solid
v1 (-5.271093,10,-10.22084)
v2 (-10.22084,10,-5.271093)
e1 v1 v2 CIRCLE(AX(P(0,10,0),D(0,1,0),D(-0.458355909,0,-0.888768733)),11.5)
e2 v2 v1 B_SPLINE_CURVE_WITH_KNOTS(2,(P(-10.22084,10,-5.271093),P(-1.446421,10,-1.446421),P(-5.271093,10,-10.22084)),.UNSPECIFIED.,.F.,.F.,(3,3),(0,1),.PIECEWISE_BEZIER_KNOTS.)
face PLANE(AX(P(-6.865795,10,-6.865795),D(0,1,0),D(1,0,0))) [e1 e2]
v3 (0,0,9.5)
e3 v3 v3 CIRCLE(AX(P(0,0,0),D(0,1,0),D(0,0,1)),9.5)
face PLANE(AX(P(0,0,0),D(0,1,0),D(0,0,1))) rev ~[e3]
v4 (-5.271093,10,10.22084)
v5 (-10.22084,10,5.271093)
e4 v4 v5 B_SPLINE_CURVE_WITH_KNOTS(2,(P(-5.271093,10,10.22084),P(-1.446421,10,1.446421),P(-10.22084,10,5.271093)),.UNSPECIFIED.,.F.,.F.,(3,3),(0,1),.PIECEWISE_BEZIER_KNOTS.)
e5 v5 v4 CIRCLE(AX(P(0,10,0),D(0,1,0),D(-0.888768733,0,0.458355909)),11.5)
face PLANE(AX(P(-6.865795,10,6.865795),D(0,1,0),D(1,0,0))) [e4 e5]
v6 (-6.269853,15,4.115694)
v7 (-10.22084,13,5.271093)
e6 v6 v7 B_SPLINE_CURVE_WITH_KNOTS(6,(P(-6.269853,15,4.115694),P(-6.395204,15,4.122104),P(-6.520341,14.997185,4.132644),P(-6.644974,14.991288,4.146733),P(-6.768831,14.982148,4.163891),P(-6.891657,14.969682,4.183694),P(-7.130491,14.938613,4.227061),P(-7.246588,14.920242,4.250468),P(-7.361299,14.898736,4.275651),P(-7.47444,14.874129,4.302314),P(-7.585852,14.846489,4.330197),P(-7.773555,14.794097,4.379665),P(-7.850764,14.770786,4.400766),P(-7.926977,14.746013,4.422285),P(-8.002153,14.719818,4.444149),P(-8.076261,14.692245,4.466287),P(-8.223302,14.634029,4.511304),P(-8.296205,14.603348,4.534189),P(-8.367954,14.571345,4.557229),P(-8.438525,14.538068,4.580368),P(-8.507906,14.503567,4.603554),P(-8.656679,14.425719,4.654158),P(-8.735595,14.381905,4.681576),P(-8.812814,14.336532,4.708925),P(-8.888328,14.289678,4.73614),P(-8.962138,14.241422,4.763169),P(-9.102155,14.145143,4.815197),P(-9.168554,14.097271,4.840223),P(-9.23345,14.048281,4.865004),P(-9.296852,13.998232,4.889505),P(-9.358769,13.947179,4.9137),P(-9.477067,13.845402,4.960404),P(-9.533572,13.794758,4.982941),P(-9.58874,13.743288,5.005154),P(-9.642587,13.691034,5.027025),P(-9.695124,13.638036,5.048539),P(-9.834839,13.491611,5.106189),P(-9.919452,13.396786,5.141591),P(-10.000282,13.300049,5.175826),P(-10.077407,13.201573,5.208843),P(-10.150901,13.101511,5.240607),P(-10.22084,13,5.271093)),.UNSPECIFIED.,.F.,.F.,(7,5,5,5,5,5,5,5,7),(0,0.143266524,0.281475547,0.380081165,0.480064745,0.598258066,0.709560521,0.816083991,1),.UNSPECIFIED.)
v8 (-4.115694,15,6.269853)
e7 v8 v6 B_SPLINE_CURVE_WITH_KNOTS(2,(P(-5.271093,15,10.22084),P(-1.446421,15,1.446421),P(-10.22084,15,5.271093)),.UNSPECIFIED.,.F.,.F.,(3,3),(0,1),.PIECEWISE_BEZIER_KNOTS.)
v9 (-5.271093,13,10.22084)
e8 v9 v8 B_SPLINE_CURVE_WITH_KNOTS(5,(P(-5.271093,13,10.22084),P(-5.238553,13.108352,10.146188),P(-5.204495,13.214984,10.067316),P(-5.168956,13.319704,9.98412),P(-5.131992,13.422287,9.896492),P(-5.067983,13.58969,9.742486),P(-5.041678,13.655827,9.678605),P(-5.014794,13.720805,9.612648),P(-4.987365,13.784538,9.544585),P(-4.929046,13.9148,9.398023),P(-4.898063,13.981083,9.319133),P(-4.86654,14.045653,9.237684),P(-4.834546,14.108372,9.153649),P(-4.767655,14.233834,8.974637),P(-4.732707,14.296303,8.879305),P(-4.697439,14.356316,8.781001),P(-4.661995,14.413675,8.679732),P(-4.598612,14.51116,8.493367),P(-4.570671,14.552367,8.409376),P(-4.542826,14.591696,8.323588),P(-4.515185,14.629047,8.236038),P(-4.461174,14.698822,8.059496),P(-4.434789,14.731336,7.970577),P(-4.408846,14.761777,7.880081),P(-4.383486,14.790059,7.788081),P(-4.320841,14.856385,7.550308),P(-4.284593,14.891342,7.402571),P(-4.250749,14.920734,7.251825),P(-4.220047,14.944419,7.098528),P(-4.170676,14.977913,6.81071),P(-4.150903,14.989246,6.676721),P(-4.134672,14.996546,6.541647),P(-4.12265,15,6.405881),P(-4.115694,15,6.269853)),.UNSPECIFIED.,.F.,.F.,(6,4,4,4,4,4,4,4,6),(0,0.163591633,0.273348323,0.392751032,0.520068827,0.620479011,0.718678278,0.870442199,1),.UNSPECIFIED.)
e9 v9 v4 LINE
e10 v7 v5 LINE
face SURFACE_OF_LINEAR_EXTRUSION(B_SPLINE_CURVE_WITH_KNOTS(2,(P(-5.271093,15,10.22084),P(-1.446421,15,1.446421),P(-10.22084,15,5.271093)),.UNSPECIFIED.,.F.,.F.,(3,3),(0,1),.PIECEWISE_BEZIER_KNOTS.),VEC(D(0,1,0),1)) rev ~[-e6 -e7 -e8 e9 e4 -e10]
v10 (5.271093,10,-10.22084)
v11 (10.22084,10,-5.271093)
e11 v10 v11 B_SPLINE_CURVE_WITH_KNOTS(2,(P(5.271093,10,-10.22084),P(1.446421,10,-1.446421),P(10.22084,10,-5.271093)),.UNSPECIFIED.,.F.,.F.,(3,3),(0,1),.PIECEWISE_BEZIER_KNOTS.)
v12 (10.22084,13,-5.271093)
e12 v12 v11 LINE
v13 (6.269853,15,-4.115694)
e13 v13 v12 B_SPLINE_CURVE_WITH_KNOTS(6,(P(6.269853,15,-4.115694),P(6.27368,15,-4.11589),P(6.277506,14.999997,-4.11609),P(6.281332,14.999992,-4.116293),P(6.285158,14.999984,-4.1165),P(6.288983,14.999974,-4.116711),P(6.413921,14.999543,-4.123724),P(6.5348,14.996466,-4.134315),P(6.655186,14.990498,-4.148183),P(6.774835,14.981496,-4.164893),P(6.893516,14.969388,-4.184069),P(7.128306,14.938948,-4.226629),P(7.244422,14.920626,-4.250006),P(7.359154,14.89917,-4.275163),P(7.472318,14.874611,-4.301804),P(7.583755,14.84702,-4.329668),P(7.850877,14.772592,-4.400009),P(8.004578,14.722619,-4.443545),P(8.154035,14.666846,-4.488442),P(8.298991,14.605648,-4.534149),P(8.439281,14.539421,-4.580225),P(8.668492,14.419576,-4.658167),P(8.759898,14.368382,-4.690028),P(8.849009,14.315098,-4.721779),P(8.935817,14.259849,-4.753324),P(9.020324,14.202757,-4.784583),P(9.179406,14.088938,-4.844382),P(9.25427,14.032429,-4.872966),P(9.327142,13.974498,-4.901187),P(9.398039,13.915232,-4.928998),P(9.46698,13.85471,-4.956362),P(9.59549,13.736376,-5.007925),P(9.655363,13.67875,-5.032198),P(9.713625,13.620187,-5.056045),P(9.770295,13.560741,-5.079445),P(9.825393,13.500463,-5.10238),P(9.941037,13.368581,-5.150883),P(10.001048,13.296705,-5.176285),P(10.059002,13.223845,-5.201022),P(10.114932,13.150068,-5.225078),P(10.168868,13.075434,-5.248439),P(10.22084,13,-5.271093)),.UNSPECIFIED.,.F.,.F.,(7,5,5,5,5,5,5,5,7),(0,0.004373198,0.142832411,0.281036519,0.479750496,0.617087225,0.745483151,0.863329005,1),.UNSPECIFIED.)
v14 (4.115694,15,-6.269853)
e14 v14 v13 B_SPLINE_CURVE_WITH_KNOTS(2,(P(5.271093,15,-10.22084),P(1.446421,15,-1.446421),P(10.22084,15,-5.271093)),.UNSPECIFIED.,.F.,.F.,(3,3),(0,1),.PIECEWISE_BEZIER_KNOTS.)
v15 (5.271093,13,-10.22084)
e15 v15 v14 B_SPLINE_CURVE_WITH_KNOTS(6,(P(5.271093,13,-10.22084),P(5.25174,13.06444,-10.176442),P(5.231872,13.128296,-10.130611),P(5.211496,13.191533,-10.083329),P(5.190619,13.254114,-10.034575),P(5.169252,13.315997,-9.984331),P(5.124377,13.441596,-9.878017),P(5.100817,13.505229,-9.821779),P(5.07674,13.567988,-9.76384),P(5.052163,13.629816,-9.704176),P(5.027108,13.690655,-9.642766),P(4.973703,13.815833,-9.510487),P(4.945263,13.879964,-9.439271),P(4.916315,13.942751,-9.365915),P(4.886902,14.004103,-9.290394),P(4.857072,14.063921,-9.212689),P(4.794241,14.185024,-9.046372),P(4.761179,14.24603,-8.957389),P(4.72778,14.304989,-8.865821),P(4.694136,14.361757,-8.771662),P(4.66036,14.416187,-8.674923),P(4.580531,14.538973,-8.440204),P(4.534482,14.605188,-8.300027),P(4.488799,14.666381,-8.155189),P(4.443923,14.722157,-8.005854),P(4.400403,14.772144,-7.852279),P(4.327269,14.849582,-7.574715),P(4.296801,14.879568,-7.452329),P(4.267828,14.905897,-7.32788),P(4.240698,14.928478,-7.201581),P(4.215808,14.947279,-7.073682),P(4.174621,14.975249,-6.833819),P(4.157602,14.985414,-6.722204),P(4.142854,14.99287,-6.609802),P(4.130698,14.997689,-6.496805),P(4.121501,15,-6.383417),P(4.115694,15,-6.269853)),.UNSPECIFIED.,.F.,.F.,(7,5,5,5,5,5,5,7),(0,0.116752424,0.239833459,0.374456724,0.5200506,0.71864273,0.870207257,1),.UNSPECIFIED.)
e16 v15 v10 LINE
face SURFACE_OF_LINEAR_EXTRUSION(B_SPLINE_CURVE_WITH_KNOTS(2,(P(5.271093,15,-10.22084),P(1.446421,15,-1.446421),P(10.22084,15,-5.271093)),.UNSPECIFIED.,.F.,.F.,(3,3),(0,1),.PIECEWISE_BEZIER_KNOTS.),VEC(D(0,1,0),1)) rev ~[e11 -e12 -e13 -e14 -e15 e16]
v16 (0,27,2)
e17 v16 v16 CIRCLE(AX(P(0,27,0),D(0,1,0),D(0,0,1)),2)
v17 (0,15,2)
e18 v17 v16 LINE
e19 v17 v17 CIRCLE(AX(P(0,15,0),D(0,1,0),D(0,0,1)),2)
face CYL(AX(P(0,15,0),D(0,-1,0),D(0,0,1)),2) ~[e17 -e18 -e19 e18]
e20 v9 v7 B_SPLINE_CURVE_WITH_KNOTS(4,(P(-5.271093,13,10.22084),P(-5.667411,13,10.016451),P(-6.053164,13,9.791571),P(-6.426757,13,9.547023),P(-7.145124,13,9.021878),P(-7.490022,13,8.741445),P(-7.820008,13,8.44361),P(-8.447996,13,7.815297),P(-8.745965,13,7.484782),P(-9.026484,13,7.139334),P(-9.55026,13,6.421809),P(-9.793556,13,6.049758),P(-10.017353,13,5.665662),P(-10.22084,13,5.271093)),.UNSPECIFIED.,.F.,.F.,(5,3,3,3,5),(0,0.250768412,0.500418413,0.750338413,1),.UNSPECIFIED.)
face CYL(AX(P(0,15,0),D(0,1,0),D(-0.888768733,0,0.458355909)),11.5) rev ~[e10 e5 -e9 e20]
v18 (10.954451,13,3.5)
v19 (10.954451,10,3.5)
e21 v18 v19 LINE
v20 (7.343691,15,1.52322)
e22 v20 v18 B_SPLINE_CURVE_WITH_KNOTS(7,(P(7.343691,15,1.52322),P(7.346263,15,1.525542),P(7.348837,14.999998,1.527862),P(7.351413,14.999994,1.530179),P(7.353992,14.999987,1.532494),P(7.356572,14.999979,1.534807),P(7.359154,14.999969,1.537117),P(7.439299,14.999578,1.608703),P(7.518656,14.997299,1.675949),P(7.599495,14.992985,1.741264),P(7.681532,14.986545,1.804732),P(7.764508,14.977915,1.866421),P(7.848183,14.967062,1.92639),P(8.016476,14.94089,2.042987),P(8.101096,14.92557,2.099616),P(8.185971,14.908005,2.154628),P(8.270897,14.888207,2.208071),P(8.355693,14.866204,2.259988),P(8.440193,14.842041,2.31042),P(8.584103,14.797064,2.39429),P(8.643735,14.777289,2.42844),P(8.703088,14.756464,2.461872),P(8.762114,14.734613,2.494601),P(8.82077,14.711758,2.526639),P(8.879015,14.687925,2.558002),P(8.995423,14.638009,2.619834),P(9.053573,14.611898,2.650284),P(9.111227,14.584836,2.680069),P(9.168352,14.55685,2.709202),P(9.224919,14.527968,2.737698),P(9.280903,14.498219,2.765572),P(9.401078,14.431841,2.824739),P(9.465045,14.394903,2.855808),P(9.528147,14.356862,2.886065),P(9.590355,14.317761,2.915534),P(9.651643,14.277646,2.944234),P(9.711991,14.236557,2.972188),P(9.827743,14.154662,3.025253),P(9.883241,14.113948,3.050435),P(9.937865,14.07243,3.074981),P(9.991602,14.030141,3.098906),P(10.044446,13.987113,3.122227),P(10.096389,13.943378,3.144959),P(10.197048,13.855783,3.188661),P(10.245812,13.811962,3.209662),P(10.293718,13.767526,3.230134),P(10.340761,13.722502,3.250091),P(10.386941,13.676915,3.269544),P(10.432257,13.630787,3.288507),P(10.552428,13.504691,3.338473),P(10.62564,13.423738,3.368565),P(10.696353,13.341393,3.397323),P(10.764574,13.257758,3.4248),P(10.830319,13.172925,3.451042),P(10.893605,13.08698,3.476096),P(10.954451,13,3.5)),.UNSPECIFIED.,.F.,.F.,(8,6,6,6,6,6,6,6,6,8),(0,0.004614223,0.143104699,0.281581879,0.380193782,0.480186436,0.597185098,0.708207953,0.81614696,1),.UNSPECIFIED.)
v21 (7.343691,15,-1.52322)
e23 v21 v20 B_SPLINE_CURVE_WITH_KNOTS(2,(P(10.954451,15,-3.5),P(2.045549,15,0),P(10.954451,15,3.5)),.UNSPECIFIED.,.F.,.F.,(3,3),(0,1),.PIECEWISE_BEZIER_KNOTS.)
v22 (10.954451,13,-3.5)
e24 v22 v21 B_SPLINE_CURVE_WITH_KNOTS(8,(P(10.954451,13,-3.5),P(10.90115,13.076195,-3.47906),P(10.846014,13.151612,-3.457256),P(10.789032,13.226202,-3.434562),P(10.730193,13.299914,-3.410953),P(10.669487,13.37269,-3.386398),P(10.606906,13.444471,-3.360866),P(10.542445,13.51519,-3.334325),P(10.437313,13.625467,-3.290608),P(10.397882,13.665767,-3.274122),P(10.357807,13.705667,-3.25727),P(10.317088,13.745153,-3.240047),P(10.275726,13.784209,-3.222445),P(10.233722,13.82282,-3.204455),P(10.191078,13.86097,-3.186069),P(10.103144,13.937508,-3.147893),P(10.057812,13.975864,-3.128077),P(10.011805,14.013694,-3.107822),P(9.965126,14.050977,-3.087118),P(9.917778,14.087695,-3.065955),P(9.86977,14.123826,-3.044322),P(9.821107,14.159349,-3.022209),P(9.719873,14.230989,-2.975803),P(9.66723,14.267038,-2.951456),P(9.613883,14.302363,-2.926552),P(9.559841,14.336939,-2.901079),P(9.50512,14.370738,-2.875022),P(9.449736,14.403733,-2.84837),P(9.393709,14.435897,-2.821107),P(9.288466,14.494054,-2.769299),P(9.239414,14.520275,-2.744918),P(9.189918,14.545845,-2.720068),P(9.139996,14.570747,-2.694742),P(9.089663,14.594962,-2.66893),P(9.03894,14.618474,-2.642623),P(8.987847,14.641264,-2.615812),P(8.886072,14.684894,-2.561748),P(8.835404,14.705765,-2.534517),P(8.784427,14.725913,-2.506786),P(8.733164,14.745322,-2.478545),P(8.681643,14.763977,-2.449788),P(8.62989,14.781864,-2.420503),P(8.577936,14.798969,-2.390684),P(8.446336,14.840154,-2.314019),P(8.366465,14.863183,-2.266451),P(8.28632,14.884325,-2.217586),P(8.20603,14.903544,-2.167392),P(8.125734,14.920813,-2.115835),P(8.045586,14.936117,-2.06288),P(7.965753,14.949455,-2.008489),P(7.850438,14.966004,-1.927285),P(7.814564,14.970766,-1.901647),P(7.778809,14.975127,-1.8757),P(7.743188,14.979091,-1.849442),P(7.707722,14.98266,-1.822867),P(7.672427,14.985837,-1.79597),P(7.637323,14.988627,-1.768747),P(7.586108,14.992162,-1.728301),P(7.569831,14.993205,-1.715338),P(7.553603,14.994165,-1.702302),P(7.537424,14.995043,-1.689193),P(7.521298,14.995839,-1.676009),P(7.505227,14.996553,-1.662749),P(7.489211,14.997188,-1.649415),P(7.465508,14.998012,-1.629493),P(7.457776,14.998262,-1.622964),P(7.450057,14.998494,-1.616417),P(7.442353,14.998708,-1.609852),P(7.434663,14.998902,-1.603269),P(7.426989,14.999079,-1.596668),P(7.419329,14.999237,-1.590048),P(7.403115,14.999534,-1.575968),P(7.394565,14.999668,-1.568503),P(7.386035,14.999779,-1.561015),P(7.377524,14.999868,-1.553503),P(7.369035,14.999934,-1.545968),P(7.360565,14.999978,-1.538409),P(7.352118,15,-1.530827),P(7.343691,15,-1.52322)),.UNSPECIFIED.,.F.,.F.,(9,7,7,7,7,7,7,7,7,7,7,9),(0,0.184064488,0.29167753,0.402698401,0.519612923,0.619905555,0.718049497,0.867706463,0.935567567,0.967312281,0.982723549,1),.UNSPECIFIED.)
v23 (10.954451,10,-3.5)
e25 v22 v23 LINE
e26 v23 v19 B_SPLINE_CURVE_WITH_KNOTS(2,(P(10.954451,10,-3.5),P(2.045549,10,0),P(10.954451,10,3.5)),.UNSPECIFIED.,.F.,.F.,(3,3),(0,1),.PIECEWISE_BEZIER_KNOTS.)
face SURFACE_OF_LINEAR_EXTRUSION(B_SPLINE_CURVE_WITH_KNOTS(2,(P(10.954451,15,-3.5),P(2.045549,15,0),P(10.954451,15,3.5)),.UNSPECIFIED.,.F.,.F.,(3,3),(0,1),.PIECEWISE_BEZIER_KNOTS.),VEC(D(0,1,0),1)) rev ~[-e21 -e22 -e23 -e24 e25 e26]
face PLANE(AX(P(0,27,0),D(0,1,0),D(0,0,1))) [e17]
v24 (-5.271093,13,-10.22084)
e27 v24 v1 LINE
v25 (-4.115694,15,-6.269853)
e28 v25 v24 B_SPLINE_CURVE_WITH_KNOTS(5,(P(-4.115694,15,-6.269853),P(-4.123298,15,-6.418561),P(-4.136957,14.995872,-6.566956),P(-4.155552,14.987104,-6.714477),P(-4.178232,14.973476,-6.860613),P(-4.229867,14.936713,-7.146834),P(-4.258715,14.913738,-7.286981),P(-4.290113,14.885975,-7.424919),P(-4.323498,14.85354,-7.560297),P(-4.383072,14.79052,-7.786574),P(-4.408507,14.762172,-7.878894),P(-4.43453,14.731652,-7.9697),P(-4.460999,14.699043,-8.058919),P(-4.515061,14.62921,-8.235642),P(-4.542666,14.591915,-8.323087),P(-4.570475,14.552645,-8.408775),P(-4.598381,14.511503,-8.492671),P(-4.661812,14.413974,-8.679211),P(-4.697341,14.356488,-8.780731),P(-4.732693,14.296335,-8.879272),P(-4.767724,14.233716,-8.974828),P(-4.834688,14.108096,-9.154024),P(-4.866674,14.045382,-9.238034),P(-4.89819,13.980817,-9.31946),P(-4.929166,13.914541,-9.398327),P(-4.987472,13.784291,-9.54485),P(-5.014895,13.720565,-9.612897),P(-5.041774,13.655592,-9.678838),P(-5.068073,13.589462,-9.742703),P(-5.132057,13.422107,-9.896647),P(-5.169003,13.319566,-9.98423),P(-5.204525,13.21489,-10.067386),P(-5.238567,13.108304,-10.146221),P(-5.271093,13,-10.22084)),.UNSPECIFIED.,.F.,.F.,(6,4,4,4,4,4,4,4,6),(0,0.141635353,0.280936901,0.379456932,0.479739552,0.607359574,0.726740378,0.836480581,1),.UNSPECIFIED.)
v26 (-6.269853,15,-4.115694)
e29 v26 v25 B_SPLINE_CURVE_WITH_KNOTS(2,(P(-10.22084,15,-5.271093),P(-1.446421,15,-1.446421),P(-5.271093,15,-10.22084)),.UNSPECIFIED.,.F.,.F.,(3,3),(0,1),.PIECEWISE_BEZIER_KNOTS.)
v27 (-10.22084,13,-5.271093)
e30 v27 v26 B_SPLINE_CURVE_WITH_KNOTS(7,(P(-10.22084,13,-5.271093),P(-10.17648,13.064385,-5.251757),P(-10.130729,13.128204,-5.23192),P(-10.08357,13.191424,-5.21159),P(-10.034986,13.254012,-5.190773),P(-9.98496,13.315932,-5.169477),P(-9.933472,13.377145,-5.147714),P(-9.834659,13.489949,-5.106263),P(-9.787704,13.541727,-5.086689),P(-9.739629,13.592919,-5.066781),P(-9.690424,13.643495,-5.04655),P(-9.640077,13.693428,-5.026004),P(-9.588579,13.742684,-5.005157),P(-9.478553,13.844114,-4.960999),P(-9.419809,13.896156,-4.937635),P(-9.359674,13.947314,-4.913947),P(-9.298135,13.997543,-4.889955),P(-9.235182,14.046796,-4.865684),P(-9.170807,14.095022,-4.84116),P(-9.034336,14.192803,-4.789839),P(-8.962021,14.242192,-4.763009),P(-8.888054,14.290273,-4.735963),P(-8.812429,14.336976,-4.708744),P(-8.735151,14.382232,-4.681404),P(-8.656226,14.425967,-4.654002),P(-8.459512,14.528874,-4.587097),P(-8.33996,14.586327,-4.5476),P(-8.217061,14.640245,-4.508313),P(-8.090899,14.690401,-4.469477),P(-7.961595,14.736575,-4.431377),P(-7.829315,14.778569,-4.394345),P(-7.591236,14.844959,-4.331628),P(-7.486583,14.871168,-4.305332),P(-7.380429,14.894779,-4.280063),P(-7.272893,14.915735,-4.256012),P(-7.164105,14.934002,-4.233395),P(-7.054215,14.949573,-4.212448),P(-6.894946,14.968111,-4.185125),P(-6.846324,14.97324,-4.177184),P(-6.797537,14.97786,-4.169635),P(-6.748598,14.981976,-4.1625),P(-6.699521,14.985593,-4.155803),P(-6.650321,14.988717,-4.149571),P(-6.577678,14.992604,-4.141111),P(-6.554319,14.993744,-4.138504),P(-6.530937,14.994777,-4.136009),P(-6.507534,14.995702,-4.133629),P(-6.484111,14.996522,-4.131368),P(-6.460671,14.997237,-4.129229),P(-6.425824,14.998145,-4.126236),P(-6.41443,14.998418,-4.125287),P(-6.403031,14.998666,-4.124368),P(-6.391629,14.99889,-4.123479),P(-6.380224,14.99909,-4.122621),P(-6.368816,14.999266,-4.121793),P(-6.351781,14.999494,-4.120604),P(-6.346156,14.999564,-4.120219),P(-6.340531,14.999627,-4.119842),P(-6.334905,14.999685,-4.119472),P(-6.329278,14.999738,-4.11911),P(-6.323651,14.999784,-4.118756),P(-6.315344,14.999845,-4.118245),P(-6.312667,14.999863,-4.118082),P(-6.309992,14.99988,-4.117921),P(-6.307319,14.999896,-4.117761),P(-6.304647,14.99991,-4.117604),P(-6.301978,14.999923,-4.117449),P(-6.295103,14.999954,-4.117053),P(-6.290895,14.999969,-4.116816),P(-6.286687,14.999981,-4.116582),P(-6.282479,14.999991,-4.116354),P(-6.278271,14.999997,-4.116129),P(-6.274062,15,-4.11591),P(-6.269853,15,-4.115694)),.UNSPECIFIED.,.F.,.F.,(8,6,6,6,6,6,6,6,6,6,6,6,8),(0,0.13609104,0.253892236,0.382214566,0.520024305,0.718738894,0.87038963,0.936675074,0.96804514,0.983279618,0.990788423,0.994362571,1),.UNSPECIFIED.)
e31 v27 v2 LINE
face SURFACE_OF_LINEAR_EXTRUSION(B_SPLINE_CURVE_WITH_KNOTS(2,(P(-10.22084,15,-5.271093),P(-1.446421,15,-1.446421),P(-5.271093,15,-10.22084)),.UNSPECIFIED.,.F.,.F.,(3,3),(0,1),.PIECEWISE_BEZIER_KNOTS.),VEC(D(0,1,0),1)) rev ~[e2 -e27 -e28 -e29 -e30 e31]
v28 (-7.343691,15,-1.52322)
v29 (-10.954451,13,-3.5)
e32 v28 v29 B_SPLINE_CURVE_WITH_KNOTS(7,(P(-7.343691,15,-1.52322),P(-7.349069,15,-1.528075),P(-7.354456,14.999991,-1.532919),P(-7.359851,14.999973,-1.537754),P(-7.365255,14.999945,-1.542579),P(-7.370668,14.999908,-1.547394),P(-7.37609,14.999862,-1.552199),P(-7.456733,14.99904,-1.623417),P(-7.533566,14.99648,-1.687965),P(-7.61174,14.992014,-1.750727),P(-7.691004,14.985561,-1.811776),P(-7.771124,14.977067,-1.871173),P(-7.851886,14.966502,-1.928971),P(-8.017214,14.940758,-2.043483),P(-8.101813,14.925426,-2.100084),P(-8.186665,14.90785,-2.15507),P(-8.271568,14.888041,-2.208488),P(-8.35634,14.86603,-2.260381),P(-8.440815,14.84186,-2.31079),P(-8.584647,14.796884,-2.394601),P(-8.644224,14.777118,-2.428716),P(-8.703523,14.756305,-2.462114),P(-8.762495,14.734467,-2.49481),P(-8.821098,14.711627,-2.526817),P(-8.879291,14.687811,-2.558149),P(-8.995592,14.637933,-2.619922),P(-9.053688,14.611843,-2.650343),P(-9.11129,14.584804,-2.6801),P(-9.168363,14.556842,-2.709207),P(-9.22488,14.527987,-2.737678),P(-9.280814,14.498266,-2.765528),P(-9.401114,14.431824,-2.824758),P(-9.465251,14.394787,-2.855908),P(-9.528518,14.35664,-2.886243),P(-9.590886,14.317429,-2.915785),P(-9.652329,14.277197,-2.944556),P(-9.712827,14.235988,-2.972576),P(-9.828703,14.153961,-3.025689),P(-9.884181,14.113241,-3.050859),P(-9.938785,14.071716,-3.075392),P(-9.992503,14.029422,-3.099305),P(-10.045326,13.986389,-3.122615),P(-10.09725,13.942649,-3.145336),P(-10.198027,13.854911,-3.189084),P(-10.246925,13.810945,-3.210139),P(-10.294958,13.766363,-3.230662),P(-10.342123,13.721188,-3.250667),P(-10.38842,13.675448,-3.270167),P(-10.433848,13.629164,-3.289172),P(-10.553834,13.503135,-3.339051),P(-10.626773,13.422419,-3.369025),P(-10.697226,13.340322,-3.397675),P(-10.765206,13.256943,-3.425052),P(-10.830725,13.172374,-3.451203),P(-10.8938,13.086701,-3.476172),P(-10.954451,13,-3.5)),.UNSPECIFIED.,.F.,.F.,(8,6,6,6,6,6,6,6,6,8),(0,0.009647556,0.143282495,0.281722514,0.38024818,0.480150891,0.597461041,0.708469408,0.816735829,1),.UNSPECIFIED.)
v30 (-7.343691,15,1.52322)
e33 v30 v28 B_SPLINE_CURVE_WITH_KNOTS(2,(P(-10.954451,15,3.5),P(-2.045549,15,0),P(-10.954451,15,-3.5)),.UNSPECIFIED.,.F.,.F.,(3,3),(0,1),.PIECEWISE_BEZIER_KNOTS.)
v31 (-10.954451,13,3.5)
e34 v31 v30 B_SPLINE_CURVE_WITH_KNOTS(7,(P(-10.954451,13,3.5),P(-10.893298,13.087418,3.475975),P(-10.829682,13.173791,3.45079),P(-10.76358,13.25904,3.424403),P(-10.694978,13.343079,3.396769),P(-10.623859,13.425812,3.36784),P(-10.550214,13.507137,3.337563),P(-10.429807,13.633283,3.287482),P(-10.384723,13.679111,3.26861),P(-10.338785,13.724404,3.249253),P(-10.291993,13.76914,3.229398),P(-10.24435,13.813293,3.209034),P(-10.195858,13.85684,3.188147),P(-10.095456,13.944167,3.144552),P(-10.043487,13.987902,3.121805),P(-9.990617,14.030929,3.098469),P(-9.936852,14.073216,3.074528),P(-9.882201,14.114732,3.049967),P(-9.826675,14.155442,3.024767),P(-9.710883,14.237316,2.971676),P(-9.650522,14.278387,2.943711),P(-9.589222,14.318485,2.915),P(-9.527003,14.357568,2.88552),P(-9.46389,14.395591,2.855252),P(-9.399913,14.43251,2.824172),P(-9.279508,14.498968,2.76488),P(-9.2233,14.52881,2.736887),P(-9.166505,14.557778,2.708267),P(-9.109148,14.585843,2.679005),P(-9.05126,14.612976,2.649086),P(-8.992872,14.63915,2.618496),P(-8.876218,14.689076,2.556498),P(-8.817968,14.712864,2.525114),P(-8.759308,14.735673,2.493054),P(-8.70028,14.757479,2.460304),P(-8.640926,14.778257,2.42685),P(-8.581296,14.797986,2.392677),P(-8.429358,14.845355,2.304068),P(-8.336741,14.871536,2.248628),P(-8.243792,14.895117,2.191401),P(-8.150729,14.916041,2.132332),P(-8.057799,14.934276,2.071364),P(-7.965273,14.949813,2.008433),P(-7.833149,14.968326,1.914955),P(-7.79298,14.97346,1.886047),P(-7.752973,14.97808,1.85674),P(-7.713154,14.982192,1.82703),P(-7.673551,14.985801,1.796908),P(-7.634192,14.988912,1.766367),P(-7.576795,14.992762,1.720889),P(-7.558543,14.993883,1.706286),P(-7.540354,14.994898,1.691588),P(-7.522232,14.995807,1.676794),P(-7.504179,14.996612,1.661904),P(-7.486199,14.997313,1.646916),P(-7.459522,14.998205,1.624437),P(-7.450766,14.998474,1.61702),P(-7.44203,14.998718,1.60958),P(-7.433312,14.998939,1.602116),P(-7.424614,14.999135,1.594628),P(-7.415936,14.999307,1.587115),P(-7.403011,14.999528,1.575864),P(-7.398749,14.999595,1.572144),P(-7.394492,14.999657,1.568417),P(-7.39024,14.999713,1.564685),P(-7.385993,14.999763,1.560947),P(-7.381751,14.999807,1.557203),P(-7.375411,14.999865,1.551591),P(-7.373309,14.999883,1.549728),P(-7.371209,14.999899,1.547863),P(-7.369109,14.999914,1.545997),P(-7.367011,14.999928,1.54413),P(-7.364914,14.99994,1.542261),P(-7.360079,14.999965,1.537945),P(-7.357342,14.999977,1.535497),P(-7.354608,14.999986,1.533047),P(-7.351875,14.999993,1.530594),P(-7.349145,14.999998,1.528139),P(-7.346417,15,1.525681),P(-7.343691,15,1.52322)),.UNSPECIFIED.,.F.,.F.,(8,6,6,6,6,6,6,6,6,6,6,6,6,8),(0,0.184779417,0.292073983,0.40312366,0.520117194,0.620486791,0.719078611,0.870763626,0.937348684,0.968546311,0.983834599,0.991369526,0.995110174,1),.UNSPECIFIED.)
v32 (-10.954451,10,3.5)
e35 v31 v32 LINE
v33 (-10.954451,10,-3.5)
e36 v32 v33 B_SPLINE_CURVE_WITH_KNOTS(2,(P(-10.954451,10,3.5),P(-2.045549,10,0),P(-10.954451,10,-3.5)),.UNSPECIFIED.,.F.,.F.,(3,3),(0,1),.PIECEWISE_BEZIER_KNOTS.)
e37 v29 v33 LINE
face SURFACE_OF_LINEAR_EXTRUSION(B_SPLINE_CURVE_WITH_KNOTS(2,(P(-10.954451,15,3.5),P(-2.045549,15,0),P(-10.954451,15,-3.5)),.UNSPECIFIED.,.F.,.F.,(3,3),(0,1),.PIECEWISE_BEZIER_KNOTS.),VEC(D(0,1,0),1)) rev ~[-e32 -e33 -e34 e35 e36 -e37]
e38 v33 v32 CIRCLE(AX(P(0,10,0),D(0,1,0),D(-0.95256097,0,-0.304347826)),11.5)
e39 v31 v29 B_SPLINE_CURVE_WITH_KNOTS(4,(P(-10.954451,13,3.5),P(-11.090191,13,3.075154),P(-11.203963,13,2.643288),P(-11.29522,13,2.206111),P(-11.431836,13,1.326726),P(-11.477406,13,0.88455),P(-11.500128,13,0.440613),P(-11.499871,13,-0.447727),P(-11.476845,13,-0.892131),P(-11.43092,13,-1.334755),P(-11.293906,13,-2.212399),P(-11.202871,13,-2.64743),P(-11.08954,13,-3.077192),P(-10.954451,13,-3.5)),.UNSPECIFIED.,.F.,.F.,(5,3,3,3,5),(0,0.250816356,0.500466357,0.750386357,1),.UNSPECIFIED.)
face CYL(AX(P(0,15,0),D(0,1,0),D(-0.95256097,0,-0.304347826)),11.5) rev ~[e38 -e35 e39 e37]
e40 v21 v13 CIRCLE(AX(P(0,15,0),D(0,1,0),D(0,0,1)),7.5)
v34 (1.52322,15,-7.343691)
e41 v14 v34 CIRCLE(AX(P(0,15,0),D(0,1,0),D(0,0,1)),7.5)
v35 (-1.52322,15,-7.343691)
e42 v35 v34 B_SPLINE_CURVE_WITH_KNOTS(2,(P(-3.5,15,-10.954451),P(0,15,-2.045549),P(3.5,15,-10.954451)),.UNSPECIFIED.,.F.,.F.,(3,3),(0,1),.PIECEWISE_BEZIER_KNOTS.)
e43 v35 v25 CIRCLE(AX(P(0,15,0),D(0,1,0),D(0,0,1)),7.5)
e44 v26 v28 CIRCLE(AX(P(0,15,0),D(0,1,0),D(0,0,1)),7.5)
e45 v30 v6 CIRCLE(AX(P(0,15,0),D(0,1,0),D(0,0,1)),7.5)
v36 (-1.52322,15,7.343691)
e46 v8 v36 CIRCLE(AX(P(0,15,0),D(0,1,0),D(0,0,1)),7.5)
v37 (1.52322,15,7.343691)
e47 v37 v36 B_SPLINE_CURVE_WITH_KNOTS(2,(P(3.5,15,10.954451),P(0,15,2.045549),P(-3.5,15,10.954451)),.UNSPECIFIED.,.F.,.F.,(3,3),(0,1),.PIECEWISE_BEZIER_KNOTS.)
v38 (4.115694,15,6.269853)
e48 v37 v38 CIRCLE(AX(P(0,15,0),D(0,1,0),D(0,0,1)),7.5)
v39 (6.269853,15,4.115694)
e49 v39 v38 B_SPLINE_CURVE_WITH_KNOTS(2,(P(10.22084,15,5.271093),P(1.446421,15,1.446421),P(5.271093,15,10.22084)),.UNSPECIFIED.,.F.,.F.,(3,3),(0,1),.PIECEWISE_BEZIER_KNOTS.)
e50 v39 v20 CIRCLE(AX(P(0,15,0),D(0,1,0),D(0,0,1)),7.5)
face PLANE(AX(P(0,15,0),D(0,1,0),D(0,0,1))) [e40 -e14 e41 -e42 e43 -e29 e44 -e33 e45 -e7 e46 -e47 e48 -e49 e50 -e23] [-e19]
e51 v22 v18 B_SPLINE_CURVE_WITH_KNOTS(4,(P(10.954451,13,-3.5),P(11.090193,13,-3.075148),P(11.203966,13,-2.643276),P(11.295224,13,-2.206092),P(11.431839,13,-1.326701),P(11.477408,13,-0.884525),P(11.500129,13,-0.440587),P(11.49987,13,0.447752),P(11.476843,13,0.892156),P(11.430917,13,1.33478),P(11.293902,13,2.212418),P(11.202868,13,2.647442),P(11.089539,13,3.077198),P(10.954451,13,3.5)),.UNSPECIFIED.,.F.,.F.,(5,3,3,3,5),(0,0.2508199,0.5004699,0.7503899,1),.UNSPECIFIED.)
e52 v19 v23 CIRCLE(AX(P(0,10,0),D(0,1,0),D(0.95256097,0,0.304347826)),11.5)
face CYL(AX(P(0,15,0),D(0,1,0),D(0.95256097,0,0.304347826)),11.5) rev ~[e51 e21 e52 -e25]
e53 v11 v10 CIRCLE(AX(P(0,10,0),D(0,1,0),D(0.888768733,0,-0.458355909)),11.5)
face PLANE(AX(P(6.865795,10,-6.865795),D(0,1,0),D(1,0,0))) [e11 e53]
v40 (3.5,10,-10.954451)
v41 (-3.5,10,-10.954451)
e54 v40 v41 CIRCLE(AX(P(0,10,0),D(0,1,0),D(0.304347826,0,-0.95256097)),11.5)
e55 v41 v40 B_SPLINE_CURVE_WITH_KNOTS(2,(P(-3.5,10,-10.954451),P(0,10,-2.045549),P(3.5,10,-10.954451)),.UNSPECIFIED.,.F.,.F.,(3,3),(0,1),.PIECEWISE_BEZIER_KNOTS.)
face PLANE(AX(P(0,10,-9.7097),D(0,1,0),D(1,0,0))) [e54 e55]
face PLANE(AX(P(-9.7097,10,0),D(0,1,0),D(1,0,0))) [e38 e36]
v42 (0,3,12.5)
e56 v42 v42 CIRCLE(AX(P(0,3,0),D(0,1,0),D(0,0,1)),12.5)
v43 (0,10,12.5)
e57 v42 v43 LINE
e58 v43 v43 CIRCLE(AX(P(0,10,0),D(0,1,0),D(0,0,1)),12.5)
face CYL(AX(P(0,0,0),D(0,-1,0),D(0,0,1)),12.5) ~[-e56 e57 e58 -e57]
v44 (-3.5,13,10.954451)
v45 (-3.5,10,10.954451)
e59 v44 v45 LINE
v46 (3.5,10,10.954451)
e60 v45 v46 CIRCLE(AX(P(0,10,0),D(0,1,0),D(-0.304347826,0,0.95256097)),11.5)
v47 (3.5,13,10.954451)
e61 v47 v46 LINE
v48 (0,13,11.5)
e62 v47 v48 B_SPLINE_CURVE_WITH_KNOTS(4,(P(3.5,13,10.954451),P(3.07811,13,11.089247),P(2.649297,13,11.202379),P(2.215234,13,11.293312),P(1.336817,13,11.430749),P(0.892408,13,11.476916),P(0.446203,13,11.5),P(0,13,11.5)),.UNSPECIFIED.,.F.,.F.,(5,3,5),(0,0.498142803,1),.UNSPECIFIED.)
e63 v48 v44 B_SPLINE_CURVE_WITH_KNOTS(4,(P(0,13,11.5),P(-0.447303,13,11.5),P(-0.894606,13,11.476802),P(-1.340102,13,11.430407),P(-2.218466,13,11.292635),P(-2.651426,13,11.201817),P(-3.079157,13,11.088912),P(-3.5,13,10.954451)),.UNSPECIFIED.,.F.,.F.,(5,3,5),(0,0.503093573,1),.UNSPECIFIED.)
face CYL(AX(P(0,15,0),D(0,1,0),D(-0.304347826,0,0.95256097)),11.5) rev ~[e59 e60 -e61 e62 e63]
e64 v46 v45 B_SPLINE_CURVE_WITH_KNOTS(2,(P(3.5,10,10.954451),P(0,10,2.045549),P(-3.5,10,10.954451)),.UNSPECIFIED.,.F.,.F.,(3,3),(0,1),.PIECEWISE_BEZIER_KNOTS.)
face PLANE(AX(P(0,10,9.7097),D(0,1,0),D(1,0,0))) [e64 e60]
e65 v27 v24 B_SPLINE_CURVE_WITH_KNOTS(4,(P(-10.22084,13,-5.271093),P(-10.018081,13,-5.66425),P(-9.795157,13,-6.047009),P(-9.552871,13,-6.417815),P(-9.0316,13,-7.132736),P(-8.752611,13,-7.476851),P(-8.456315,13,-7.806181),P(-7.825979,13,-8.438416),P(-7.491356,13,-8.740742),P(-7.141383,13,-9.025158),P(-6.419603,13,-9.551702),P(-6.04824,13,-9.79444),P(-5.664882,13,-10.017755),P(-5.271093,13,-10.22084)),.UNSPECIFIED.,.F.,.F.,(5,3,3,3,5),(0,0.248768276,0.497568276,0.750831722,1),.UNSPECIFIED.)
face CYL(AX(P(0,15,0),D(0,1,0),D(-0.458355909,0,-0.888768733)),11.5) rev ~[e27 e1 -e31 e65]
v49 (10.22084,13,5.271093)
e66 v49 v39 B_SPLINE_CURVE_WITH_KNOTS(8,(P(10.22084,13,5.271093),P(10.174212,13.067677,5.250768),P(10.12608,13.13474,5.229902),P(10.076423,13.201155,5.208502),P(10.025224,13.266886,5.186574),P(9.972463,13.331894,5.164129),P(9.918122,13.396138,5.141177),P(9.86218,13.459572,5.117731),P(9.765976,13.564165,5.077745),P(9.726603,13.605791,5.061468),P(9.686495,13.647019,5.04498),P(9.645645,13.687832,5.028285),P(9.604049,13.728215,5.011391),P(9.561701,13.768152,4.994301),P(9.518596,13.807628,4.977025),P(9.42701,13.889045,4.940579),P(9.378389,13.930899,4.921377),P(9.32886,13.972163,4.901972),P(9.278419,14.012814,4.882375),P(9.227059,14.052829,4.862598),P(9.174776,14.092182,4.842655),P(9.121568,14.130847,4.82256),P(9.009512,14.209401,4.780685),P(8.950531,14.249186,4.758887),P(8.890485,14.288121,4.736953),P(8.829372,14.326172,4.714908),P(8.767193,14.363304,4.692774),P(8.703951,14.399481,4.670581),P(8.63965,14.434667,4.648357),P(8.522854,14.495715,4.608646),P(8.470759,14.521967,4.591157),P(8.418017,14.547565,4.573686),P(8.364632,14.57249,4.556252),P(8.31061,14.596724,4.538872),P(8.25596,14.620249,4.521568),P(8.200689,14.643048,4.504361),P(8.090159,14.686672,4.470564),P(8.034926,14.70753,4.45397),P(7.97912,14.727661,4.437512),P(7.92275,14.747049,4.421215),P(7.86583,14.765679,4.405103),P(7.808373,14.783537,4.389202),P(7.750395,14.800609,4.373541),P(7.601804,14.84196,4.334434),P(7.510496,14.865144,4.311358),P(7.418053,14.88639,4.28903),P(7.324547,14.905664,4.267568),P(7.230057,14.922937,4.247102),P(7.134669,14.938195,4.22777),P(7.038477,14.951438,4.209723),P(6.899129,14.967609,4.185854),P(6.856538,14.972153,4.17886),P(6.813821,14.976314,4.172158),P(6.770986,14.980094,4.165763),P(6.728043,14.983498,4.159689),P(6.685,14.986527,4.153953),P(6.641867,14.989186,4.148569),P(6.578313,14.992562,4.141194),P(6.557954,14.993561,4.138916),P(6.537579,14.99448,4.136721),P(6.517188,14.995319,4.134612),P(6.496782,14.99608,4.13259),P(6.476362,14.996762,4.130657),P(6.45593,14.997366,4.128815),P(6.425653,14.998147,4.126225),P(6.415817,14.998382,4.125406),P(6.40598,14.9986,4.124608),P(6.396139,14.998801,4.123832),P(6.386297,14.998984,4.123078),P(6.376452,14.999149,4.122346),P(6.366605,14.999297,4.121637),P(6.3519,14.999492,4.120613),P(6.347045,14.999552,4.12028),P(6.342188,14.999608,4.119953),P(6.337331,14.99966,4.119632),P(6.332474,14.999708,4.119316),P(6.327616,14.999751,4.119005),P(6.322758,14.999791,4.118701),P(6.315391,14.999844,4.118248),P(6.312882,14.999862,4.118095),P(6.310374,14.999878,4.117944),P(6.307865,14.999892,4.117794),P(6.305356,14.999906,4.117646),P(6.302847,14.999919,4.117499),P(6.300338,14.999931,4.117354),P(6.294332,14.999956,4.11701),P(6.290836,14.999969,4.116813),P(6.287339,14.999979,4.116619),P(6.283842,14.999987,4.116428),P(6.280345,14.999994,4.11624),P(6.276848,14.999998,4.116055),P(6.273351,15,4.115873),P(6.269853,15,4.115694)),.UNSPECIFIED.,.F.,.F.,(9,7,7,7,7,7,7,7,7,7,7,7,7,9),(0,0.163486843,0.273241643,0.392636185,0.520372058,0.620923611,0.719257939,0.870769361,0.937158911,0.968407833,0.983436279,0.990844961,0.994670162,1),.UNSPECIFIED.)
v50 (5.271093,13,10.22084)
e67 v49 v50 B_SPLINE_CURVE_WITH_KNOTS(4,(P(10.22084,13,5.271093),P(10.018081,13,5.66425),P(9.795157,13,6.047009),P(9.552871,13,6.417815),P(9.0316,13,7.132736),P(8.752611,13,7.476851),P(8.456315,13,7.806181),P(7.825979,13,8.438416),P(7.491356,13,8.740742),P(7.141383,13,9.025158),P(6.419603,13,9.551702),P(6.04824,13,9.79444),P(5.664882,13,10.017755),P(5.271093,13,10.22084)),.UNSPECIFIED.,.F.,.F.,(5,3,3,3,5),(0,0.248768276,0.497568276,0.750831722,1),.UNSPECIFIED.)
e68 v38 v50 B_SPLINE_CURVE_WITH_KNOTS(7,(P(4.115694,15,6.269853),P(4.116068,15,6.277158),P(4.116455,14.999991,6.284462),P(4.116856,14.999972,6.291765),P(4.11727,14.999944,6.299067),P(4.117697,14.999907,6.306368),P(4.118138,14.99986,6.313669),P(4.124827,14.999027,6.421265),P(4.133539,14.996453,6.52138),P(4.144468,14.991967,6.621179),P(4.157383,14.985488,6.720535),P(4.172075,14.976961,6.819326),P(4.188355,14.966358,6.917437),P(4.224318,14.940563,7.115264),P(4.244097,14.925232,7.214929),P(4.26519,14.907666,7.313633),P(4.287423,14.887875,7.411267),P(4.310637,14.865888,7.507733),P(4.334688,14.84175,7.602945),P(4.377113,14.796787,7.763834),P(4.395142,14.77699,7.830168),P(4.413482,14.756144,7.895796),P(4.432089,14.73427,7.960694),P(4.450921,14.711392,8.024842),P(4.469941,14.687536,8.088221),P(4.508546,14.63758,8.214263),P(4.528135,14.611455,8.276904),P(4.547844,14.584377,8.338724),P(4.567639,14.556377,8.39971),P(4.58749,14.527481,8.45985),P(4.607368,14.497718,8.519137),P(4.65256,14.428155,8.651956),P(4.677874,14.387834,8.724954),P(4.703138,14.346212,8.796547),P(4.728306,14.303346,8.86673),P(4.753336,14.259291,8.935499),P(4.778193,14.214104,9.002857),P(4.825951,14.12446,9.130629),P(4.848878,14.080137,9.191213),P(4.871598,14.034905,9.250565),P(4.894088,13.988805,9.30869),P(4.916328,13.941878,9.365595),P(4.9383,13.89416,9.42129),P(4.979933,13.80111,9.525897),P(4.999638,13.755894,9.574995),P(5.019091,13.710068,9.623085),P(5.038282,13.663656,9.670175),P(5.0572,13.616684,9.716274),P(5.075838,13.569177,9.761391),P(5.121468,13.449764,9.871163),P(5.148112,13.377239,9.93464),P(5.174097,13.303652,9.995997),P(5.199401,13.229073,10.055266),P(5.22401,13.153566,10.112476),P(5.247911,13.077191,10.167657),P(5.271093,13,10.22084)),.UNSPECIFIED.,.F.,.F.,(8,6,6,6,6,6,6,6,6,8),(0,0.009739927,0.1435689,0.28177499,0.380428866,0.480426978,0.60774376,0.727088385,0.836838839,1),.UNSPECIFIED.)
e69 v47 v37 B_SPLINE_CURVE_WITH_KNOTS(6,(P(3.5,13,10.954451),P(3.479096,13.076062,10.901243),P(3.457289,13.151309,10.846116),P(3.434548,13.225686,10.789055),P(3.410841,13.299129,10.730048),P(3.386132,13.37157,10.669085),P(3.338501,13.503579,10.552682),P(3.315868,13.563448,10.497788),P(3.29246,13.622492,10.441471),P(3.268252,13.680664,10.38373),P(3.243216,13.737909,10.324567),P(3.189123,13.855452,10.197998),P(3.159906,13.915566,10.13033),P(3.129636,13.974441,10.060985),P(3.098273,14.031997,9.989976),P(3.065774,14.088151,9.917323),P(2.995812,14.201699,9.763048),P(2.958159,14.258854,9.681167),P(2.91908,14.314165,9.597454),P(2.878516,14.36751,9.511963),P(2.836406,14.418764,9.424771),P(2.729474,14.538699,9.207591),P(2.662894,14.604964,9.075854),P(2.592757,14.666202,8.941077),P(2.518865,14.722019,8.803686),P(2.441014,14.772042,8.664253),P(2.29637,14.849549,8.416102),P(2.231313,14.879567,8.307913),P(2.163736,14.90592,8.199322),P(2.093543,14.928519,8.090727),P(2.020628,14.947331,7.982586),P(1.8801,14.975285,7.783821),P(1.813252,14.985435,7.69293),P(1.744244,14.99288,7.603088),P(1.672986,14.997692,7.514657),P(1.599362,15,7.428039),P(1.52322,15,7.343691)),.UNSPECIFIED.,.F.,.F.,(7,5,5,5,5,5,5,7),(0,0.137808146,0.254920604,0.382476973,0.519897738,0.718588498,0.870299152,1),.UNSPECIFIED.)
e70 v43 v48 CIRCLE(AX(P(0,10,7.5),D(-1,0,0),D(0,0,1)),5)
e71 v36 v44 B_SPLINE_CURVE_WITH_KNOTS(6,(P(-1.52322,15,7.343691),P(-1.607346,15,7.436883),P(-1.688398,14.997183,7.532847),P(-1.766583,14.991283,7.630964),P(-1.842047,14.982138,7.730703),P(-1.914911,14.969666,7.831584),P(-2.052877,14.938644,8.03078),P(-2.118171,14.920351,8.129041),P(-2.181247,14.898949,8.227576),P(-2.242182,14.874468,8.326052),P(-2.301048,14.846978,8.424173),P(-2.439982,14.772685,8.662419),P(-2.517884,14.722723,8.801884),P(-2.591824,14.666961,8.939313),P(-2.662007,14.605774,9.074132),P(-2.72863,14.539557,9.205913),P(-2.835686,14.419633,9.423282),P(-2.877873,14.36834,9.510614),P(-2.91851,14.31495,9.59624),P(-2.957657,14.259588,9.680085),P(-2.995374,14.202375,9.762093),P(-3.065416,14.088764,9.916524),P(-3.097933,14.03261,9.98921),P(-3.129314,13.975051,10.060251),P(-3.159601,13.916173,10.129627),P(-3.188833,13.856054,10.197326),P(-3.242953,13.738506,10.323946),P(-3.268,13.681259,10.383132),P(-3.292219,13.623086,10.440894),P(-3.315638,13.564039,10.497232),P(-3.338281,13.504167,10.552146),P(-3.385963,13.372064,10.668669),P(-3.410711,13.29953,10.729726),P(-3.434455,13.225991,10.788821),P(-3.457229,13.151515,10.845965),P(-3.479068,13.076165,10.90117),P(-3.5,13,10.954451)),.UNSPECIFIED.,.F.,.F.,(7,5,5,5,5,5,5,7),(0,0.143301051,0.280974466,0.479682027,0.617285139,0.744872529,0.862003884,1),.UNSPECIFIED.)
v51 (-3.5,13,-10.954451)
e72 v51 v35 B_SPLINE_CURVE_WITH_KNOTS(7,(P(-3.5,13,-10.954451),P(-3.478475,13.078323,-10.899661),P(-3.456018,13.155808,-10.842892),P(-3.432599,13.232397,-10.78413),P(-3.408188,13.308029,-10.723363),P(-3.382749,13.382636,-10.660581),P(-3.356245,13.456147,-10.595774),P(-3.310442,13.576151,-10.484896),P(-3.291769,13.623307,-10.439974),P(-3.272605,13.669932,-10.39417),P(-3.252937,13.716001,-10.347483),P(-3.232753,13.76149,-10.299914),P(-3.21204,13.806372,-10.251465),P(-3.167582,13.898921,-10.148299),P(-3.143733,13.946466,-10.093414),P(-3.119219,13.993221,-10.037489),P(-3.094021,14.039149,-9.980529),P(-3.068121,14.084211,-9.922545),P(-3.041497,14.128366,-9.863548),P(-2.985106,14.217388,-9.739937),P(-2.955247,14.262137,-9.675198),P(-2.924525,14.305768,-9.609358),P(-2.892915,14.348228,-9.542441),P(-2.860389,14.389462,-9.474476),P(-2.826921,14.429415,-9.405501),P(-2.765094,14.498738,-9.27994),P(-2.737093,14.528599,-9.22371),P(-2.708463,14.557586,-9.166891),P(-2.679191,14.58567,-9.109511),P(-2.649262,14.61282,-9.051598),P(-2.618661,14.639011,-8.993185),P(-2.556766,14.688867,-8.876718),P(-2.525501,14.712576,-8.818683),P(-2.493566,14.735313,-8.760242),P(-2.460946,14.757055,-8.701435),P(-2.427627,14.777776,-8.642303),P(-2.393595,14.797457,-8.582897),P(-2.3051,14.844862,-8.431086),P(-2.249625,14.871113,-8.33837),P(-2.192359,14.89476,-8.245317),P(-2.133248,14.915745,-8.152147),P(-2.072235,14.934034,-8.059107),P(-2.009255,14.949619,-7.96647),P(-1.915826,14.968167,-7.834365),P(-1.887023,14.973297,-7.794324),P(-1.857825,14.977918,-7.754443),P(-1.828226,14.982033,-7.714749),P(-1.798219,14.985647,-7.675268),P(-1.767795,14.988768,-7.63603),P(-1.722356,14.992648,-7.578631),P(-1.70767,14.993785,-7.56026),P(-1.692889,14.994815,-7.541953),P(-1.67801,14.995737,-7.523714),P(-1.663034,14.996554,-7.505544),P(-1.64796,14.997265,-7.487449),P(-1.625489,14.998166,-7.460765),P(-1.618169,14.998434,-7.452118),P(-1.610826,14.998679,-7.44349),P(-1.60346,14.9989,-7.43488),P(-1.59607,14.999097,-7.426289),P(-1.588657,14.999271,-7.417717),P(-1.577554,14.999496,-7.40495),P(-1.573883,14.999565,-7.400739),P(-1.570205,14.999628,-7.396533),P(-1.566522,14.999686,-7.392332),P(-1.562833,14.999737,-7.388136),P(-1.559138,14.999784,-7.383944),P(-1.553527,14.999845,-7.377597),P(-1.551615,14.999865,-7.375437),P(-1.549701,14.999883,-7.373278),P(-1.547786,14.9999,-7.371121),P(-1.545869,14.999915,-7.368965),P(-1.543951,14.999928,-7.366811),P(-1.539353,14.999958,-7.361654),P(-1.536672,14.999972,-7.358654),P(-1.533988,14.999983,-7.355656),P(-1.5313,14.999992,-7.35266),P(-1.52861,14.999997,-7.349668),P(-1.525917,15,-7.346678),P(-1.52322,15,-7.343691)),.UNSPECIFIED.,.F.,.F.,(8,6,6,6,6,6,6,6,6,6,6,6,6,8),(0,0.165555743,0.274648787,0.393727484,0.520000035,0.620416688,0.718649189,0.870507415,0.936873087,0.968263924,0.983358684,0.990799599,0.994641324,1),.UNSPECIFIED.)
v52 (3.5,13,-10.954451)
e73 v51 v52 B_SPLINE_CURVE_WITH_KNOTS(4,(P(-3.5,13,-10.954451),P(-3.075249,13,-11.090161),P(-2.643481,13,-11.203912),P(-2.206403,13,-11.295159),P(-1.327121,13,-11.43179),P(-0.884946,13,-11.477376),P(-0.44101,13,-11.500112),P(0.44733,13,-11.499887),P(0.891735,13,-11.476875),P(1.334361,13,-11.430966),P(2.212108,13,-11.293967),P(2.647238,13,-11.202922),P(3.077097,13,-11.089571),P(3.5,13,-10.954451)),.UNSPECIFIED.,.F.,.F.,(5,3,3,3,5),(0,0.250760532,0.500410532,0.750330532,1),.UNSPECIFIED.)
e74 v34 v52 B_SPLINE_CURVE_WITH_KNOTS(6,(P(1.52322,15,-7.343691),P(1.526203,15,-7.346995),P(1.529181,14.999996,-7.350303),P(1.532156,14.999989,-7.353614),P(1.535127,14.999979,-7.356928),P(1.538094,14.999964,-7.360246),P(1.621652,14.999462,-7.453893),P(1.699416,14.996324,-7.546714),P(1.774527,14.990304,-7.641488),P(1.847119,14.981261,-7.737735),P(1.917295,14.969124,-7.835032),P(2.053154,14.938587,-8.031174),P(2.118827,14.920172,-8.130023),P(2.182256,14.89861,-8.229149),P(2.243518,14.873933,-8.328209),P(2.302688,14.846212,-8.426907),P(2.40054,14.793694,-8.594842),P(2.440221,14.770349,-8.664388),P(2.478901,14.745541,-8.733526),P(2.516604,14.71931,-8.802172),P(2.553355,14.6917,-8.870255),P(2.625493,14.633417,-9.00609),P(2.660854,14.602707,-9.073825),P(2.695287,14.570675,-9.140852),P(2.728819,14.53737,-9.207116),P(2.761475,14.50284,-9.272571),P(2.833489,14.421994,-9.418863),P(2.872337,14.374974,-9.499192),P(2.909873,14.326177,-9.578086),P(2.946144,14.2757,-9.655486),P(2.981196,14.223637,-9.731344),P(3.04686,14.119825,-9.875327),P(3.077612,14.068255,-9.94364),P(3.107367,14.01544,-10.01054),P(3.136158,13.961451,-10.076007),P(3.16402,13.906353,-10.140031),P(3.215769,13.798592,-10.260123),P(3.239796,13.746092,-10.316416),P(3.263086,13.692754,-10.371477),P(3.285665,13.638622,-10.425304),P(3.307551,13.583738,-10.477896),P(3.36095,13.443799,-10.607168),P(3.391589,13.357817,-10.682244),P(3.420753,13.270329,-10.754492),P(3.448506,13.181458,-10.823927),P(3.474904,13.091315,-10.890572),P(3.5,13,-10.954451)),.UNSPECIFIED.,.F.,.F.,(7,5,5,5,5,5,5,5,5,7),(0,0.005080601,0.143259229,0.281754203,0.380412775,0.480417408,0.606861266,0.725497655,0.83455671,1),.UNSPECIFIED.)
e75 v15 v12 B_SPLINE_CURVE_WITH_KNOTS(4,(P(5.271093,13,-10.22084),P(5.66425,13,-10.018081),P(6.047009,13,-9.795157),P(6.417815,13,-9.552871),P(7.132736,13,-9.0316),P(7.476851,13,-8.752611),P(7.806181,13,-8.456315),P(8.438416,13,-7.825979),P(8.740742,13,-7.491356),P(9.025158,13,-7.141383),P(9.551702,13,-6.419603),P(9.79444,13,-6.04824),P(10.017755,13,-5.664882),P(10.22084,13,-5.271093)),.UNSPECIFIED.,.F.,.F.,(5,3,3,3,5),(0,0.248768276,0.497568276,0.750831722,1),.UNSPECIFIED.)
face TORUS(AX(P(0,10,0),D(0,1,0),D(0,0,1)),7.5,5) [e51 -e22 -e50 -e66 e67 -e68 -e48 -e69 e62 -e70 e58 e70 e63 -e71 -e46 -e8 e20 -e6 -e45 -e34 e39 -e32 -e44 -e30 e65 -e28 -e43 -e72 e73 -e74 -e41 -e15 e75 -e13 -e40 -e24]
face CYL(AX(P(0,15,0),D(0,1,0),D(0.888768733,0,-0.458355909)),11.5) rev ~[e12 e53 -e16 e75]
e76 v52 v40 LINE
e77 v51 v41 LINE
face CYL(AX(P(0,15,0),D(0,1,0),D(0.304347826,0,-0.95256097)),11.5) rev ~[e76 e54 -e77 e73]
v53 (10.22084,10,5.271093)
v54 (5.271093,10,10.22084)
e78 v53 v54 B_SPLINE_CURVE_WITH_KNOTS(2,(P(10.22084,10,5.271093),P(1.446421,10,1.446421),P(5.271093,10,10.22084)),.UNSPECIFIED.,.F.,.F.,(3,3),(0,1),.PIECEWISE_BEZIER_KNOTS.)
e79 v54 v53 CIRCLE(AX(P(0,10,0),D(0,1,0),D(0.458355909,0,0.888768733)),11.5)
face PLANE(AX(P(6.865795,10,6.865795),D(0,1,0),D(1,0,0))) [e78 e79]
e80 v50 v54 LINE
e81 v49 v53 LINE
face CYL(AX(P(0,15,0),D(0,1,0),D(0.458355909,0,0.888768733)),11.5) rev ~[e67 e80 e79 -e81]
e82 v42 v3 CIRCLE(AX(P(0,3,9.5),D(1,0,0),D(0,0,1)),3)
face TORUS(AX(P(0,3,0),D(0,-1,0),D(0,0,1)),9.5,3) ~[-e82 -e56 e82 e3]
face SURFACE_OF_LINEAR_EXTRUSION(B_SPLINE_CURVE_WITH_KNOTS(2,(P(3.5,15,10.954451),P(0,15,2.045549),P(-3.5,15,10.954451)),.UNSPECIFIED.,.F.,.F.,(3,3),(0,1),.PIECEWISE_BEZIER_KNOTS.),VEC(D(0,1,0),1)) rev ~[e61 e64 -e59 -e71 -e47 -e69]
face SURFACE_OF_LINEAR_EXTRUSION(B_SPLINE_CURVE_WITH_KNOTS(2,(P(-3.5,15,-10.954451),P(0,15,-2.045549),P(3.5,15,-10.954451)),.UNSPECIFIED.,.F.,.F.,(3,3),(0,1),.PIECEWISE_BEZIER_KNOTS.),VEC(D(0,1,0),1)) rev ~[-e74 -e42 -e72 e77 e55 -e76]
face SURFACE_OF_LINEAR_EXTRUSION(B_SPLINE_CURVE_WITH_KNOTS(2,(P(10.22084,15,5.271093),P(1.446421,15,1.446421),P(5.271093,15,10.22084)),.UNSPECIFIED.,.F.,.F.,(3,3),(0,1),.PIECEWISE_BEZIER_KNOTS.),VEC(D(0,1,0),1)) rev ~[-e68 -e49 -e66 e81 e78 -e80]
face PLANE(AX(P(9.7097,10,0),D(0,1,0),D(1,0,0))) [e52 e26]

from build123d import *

# Parameters (mm, degrees)
SKETCH1_R           = 12.5
BOSS_EXTRUDE1_DEPTH = 15
SKETCH2_R           = 2
BOSS_EXTRUDE2_DEPTH = 12
FILLET1_R           = 5
FILLET2_R           = 3
CUT_EXTRUDE1_DEPTH  = 5


with BuildPart() as part:
    # Sketch1 → Boss-Extrude1 (new body)
    with BuildSketch(Plane(origin=(0, 0, 0), x_dir=(1, 0, 0), z_dir=(0, 1, 0))):
        with Locations(Location((0, 0, 0), (0, 0, 270))):
            Circle(SKETCH1_R)
    extrude(amount=BOSS_EXTRUDE1_DEPTH)

    # Sketch2 → Boss-Extrude2 (add)
    with BuildSketch(Plane(origin=(0, 15, 0), x_dir=(1, 0, 0), z_dir=(0, 1, 0))):
        with Locations(Location((0, 0, 0), (0, 0, 270))):
            Circle(SKETCH2_R)
    extrude(amount=BOSS_EXTRUDE2_DEPTH)

    # Fillet1
    fillet1_edges = [part.edges().sort_by_distance(p)[0] for p in [
        (0, 15, -12.5),
    ]]
    fillet(fillet1_edges, radius=FILLET1_R)

    # Fillet2
    fillet2_edges = [part.edges().sort_by_distance(p)[0] for p in [
        (0, 0, -12.5),
    ]]
    fillet(fillet2_edges, radius=FILLET2_R)

    # Sketch3 → Cut-Extrude1 (cut)
    with BuildSketch(Plane(origin=(0, 15, 0), x_dir=(1, 0, 0), z_dir=(0, 1, 0))):
        with BuildLine():
            ThreePointArc((3.5, 10.95445115), (0, 11.5), (-3.5, 10.95445115))
            add(Edge.make_bspline(
                [(-3.5, 10.95445115), (0, 2.04554885), (3.5, 10.95445115)],
                knots=[0, 0, 0, 1, 1, 1], degree=2))
        make_face()
        with BuildLine():
            ThreePointArc((10.220840427, 5.271092958), (8.131727984, 8.131727984), (5.271092958, 10.220840427))
            add(Edge.make_bspline(
                [(5.271092958, 10.220840427), (1.446421463, 1.446421463), (10.220840427, 5.271092958)],
                knots=[0, 0, 0, 1, 1, 1], degree=2))
        make_face()
        with BuildLine():
            ThreePointArc((10.95445115, -3.5), (11.5, 0), (10.95445115, 3.5))
            add(Edge.make_bspline(
                [(10.95445115, 3.5), (2.04554885, 0), (10.95445115, -3.5)],
                knots=[0, 0, 0, 1, 1, 1], degree=2))
        make_face()
        with BuildLine():
            ThreePointArc((5.271092958, -10.220840427), (8.131727984, -8.131727984), (10.220840427, -5.271092958))
            add(Edge.make_bspline(
                [(10.220840427, -5.271092958), (1.446421463, -1.446421463), (5.271092958, -10.220840427)],
                knots=[0, 0, 0, 1, 1, 1], degree=2))
        make_face()
        with BuildLine():
            ThreePointArc((-3.5, -10.95445115), (0, -11.5), (3.5, -10.95445115))
            add(Edge.make_bspline(
                [(3.5, -10.95445115), (0, -2.04554885), (-3.5, -10.95445115)],
                knots=[0, 0, 0, 1, 1, 1], degree=2))
        make_face()
        with BuildLine():
            ThreePointArc((-10.220840427, -5.271092958), (-8.131727984, -8.131727984), (-5.271092958, -10.220840427))
            add(Edge.make_bspline(
                [(-5.271092958, -10.220840427), (-1.446421463, -1.446421463), (-10.220840427, -5.271092958)],
                knots=[0, 0, 0, 1, 1, 1], degree=2))
        make_face()
        with BuildLine():
            ThreePointArc((-10.95445115, 3.5), (-11.5, 0), (-10.95445115, -3.5))
            add(Edge.make_bspline(
                [(-10.95445115, -3.5), (-2.04554885, 0), (-10.95445115, 3.5)],
                knots=[0, 0, 0, 1, 1, 1], degree=2))
        make_face()
        with BuildLine():
            ThreePointArc((-5.271092958, 10.220840427), (-8.131727984, 8.131727984), (-10.220840427, 5.271092958))
            add(Edge.make_bspline(
                [(-10.220840427, 5.271092958), (-1.446421463, 1.446421463), (-5.271092958, 10.220840427)],
                knots=[0, 0, 0, 1, 1, 1], degree=2))
        make_face()
    extrude(amount=-CUT_EXTRUDE1_DEPTH, mode=Mode.SUBTRACT)


solid = part.part
